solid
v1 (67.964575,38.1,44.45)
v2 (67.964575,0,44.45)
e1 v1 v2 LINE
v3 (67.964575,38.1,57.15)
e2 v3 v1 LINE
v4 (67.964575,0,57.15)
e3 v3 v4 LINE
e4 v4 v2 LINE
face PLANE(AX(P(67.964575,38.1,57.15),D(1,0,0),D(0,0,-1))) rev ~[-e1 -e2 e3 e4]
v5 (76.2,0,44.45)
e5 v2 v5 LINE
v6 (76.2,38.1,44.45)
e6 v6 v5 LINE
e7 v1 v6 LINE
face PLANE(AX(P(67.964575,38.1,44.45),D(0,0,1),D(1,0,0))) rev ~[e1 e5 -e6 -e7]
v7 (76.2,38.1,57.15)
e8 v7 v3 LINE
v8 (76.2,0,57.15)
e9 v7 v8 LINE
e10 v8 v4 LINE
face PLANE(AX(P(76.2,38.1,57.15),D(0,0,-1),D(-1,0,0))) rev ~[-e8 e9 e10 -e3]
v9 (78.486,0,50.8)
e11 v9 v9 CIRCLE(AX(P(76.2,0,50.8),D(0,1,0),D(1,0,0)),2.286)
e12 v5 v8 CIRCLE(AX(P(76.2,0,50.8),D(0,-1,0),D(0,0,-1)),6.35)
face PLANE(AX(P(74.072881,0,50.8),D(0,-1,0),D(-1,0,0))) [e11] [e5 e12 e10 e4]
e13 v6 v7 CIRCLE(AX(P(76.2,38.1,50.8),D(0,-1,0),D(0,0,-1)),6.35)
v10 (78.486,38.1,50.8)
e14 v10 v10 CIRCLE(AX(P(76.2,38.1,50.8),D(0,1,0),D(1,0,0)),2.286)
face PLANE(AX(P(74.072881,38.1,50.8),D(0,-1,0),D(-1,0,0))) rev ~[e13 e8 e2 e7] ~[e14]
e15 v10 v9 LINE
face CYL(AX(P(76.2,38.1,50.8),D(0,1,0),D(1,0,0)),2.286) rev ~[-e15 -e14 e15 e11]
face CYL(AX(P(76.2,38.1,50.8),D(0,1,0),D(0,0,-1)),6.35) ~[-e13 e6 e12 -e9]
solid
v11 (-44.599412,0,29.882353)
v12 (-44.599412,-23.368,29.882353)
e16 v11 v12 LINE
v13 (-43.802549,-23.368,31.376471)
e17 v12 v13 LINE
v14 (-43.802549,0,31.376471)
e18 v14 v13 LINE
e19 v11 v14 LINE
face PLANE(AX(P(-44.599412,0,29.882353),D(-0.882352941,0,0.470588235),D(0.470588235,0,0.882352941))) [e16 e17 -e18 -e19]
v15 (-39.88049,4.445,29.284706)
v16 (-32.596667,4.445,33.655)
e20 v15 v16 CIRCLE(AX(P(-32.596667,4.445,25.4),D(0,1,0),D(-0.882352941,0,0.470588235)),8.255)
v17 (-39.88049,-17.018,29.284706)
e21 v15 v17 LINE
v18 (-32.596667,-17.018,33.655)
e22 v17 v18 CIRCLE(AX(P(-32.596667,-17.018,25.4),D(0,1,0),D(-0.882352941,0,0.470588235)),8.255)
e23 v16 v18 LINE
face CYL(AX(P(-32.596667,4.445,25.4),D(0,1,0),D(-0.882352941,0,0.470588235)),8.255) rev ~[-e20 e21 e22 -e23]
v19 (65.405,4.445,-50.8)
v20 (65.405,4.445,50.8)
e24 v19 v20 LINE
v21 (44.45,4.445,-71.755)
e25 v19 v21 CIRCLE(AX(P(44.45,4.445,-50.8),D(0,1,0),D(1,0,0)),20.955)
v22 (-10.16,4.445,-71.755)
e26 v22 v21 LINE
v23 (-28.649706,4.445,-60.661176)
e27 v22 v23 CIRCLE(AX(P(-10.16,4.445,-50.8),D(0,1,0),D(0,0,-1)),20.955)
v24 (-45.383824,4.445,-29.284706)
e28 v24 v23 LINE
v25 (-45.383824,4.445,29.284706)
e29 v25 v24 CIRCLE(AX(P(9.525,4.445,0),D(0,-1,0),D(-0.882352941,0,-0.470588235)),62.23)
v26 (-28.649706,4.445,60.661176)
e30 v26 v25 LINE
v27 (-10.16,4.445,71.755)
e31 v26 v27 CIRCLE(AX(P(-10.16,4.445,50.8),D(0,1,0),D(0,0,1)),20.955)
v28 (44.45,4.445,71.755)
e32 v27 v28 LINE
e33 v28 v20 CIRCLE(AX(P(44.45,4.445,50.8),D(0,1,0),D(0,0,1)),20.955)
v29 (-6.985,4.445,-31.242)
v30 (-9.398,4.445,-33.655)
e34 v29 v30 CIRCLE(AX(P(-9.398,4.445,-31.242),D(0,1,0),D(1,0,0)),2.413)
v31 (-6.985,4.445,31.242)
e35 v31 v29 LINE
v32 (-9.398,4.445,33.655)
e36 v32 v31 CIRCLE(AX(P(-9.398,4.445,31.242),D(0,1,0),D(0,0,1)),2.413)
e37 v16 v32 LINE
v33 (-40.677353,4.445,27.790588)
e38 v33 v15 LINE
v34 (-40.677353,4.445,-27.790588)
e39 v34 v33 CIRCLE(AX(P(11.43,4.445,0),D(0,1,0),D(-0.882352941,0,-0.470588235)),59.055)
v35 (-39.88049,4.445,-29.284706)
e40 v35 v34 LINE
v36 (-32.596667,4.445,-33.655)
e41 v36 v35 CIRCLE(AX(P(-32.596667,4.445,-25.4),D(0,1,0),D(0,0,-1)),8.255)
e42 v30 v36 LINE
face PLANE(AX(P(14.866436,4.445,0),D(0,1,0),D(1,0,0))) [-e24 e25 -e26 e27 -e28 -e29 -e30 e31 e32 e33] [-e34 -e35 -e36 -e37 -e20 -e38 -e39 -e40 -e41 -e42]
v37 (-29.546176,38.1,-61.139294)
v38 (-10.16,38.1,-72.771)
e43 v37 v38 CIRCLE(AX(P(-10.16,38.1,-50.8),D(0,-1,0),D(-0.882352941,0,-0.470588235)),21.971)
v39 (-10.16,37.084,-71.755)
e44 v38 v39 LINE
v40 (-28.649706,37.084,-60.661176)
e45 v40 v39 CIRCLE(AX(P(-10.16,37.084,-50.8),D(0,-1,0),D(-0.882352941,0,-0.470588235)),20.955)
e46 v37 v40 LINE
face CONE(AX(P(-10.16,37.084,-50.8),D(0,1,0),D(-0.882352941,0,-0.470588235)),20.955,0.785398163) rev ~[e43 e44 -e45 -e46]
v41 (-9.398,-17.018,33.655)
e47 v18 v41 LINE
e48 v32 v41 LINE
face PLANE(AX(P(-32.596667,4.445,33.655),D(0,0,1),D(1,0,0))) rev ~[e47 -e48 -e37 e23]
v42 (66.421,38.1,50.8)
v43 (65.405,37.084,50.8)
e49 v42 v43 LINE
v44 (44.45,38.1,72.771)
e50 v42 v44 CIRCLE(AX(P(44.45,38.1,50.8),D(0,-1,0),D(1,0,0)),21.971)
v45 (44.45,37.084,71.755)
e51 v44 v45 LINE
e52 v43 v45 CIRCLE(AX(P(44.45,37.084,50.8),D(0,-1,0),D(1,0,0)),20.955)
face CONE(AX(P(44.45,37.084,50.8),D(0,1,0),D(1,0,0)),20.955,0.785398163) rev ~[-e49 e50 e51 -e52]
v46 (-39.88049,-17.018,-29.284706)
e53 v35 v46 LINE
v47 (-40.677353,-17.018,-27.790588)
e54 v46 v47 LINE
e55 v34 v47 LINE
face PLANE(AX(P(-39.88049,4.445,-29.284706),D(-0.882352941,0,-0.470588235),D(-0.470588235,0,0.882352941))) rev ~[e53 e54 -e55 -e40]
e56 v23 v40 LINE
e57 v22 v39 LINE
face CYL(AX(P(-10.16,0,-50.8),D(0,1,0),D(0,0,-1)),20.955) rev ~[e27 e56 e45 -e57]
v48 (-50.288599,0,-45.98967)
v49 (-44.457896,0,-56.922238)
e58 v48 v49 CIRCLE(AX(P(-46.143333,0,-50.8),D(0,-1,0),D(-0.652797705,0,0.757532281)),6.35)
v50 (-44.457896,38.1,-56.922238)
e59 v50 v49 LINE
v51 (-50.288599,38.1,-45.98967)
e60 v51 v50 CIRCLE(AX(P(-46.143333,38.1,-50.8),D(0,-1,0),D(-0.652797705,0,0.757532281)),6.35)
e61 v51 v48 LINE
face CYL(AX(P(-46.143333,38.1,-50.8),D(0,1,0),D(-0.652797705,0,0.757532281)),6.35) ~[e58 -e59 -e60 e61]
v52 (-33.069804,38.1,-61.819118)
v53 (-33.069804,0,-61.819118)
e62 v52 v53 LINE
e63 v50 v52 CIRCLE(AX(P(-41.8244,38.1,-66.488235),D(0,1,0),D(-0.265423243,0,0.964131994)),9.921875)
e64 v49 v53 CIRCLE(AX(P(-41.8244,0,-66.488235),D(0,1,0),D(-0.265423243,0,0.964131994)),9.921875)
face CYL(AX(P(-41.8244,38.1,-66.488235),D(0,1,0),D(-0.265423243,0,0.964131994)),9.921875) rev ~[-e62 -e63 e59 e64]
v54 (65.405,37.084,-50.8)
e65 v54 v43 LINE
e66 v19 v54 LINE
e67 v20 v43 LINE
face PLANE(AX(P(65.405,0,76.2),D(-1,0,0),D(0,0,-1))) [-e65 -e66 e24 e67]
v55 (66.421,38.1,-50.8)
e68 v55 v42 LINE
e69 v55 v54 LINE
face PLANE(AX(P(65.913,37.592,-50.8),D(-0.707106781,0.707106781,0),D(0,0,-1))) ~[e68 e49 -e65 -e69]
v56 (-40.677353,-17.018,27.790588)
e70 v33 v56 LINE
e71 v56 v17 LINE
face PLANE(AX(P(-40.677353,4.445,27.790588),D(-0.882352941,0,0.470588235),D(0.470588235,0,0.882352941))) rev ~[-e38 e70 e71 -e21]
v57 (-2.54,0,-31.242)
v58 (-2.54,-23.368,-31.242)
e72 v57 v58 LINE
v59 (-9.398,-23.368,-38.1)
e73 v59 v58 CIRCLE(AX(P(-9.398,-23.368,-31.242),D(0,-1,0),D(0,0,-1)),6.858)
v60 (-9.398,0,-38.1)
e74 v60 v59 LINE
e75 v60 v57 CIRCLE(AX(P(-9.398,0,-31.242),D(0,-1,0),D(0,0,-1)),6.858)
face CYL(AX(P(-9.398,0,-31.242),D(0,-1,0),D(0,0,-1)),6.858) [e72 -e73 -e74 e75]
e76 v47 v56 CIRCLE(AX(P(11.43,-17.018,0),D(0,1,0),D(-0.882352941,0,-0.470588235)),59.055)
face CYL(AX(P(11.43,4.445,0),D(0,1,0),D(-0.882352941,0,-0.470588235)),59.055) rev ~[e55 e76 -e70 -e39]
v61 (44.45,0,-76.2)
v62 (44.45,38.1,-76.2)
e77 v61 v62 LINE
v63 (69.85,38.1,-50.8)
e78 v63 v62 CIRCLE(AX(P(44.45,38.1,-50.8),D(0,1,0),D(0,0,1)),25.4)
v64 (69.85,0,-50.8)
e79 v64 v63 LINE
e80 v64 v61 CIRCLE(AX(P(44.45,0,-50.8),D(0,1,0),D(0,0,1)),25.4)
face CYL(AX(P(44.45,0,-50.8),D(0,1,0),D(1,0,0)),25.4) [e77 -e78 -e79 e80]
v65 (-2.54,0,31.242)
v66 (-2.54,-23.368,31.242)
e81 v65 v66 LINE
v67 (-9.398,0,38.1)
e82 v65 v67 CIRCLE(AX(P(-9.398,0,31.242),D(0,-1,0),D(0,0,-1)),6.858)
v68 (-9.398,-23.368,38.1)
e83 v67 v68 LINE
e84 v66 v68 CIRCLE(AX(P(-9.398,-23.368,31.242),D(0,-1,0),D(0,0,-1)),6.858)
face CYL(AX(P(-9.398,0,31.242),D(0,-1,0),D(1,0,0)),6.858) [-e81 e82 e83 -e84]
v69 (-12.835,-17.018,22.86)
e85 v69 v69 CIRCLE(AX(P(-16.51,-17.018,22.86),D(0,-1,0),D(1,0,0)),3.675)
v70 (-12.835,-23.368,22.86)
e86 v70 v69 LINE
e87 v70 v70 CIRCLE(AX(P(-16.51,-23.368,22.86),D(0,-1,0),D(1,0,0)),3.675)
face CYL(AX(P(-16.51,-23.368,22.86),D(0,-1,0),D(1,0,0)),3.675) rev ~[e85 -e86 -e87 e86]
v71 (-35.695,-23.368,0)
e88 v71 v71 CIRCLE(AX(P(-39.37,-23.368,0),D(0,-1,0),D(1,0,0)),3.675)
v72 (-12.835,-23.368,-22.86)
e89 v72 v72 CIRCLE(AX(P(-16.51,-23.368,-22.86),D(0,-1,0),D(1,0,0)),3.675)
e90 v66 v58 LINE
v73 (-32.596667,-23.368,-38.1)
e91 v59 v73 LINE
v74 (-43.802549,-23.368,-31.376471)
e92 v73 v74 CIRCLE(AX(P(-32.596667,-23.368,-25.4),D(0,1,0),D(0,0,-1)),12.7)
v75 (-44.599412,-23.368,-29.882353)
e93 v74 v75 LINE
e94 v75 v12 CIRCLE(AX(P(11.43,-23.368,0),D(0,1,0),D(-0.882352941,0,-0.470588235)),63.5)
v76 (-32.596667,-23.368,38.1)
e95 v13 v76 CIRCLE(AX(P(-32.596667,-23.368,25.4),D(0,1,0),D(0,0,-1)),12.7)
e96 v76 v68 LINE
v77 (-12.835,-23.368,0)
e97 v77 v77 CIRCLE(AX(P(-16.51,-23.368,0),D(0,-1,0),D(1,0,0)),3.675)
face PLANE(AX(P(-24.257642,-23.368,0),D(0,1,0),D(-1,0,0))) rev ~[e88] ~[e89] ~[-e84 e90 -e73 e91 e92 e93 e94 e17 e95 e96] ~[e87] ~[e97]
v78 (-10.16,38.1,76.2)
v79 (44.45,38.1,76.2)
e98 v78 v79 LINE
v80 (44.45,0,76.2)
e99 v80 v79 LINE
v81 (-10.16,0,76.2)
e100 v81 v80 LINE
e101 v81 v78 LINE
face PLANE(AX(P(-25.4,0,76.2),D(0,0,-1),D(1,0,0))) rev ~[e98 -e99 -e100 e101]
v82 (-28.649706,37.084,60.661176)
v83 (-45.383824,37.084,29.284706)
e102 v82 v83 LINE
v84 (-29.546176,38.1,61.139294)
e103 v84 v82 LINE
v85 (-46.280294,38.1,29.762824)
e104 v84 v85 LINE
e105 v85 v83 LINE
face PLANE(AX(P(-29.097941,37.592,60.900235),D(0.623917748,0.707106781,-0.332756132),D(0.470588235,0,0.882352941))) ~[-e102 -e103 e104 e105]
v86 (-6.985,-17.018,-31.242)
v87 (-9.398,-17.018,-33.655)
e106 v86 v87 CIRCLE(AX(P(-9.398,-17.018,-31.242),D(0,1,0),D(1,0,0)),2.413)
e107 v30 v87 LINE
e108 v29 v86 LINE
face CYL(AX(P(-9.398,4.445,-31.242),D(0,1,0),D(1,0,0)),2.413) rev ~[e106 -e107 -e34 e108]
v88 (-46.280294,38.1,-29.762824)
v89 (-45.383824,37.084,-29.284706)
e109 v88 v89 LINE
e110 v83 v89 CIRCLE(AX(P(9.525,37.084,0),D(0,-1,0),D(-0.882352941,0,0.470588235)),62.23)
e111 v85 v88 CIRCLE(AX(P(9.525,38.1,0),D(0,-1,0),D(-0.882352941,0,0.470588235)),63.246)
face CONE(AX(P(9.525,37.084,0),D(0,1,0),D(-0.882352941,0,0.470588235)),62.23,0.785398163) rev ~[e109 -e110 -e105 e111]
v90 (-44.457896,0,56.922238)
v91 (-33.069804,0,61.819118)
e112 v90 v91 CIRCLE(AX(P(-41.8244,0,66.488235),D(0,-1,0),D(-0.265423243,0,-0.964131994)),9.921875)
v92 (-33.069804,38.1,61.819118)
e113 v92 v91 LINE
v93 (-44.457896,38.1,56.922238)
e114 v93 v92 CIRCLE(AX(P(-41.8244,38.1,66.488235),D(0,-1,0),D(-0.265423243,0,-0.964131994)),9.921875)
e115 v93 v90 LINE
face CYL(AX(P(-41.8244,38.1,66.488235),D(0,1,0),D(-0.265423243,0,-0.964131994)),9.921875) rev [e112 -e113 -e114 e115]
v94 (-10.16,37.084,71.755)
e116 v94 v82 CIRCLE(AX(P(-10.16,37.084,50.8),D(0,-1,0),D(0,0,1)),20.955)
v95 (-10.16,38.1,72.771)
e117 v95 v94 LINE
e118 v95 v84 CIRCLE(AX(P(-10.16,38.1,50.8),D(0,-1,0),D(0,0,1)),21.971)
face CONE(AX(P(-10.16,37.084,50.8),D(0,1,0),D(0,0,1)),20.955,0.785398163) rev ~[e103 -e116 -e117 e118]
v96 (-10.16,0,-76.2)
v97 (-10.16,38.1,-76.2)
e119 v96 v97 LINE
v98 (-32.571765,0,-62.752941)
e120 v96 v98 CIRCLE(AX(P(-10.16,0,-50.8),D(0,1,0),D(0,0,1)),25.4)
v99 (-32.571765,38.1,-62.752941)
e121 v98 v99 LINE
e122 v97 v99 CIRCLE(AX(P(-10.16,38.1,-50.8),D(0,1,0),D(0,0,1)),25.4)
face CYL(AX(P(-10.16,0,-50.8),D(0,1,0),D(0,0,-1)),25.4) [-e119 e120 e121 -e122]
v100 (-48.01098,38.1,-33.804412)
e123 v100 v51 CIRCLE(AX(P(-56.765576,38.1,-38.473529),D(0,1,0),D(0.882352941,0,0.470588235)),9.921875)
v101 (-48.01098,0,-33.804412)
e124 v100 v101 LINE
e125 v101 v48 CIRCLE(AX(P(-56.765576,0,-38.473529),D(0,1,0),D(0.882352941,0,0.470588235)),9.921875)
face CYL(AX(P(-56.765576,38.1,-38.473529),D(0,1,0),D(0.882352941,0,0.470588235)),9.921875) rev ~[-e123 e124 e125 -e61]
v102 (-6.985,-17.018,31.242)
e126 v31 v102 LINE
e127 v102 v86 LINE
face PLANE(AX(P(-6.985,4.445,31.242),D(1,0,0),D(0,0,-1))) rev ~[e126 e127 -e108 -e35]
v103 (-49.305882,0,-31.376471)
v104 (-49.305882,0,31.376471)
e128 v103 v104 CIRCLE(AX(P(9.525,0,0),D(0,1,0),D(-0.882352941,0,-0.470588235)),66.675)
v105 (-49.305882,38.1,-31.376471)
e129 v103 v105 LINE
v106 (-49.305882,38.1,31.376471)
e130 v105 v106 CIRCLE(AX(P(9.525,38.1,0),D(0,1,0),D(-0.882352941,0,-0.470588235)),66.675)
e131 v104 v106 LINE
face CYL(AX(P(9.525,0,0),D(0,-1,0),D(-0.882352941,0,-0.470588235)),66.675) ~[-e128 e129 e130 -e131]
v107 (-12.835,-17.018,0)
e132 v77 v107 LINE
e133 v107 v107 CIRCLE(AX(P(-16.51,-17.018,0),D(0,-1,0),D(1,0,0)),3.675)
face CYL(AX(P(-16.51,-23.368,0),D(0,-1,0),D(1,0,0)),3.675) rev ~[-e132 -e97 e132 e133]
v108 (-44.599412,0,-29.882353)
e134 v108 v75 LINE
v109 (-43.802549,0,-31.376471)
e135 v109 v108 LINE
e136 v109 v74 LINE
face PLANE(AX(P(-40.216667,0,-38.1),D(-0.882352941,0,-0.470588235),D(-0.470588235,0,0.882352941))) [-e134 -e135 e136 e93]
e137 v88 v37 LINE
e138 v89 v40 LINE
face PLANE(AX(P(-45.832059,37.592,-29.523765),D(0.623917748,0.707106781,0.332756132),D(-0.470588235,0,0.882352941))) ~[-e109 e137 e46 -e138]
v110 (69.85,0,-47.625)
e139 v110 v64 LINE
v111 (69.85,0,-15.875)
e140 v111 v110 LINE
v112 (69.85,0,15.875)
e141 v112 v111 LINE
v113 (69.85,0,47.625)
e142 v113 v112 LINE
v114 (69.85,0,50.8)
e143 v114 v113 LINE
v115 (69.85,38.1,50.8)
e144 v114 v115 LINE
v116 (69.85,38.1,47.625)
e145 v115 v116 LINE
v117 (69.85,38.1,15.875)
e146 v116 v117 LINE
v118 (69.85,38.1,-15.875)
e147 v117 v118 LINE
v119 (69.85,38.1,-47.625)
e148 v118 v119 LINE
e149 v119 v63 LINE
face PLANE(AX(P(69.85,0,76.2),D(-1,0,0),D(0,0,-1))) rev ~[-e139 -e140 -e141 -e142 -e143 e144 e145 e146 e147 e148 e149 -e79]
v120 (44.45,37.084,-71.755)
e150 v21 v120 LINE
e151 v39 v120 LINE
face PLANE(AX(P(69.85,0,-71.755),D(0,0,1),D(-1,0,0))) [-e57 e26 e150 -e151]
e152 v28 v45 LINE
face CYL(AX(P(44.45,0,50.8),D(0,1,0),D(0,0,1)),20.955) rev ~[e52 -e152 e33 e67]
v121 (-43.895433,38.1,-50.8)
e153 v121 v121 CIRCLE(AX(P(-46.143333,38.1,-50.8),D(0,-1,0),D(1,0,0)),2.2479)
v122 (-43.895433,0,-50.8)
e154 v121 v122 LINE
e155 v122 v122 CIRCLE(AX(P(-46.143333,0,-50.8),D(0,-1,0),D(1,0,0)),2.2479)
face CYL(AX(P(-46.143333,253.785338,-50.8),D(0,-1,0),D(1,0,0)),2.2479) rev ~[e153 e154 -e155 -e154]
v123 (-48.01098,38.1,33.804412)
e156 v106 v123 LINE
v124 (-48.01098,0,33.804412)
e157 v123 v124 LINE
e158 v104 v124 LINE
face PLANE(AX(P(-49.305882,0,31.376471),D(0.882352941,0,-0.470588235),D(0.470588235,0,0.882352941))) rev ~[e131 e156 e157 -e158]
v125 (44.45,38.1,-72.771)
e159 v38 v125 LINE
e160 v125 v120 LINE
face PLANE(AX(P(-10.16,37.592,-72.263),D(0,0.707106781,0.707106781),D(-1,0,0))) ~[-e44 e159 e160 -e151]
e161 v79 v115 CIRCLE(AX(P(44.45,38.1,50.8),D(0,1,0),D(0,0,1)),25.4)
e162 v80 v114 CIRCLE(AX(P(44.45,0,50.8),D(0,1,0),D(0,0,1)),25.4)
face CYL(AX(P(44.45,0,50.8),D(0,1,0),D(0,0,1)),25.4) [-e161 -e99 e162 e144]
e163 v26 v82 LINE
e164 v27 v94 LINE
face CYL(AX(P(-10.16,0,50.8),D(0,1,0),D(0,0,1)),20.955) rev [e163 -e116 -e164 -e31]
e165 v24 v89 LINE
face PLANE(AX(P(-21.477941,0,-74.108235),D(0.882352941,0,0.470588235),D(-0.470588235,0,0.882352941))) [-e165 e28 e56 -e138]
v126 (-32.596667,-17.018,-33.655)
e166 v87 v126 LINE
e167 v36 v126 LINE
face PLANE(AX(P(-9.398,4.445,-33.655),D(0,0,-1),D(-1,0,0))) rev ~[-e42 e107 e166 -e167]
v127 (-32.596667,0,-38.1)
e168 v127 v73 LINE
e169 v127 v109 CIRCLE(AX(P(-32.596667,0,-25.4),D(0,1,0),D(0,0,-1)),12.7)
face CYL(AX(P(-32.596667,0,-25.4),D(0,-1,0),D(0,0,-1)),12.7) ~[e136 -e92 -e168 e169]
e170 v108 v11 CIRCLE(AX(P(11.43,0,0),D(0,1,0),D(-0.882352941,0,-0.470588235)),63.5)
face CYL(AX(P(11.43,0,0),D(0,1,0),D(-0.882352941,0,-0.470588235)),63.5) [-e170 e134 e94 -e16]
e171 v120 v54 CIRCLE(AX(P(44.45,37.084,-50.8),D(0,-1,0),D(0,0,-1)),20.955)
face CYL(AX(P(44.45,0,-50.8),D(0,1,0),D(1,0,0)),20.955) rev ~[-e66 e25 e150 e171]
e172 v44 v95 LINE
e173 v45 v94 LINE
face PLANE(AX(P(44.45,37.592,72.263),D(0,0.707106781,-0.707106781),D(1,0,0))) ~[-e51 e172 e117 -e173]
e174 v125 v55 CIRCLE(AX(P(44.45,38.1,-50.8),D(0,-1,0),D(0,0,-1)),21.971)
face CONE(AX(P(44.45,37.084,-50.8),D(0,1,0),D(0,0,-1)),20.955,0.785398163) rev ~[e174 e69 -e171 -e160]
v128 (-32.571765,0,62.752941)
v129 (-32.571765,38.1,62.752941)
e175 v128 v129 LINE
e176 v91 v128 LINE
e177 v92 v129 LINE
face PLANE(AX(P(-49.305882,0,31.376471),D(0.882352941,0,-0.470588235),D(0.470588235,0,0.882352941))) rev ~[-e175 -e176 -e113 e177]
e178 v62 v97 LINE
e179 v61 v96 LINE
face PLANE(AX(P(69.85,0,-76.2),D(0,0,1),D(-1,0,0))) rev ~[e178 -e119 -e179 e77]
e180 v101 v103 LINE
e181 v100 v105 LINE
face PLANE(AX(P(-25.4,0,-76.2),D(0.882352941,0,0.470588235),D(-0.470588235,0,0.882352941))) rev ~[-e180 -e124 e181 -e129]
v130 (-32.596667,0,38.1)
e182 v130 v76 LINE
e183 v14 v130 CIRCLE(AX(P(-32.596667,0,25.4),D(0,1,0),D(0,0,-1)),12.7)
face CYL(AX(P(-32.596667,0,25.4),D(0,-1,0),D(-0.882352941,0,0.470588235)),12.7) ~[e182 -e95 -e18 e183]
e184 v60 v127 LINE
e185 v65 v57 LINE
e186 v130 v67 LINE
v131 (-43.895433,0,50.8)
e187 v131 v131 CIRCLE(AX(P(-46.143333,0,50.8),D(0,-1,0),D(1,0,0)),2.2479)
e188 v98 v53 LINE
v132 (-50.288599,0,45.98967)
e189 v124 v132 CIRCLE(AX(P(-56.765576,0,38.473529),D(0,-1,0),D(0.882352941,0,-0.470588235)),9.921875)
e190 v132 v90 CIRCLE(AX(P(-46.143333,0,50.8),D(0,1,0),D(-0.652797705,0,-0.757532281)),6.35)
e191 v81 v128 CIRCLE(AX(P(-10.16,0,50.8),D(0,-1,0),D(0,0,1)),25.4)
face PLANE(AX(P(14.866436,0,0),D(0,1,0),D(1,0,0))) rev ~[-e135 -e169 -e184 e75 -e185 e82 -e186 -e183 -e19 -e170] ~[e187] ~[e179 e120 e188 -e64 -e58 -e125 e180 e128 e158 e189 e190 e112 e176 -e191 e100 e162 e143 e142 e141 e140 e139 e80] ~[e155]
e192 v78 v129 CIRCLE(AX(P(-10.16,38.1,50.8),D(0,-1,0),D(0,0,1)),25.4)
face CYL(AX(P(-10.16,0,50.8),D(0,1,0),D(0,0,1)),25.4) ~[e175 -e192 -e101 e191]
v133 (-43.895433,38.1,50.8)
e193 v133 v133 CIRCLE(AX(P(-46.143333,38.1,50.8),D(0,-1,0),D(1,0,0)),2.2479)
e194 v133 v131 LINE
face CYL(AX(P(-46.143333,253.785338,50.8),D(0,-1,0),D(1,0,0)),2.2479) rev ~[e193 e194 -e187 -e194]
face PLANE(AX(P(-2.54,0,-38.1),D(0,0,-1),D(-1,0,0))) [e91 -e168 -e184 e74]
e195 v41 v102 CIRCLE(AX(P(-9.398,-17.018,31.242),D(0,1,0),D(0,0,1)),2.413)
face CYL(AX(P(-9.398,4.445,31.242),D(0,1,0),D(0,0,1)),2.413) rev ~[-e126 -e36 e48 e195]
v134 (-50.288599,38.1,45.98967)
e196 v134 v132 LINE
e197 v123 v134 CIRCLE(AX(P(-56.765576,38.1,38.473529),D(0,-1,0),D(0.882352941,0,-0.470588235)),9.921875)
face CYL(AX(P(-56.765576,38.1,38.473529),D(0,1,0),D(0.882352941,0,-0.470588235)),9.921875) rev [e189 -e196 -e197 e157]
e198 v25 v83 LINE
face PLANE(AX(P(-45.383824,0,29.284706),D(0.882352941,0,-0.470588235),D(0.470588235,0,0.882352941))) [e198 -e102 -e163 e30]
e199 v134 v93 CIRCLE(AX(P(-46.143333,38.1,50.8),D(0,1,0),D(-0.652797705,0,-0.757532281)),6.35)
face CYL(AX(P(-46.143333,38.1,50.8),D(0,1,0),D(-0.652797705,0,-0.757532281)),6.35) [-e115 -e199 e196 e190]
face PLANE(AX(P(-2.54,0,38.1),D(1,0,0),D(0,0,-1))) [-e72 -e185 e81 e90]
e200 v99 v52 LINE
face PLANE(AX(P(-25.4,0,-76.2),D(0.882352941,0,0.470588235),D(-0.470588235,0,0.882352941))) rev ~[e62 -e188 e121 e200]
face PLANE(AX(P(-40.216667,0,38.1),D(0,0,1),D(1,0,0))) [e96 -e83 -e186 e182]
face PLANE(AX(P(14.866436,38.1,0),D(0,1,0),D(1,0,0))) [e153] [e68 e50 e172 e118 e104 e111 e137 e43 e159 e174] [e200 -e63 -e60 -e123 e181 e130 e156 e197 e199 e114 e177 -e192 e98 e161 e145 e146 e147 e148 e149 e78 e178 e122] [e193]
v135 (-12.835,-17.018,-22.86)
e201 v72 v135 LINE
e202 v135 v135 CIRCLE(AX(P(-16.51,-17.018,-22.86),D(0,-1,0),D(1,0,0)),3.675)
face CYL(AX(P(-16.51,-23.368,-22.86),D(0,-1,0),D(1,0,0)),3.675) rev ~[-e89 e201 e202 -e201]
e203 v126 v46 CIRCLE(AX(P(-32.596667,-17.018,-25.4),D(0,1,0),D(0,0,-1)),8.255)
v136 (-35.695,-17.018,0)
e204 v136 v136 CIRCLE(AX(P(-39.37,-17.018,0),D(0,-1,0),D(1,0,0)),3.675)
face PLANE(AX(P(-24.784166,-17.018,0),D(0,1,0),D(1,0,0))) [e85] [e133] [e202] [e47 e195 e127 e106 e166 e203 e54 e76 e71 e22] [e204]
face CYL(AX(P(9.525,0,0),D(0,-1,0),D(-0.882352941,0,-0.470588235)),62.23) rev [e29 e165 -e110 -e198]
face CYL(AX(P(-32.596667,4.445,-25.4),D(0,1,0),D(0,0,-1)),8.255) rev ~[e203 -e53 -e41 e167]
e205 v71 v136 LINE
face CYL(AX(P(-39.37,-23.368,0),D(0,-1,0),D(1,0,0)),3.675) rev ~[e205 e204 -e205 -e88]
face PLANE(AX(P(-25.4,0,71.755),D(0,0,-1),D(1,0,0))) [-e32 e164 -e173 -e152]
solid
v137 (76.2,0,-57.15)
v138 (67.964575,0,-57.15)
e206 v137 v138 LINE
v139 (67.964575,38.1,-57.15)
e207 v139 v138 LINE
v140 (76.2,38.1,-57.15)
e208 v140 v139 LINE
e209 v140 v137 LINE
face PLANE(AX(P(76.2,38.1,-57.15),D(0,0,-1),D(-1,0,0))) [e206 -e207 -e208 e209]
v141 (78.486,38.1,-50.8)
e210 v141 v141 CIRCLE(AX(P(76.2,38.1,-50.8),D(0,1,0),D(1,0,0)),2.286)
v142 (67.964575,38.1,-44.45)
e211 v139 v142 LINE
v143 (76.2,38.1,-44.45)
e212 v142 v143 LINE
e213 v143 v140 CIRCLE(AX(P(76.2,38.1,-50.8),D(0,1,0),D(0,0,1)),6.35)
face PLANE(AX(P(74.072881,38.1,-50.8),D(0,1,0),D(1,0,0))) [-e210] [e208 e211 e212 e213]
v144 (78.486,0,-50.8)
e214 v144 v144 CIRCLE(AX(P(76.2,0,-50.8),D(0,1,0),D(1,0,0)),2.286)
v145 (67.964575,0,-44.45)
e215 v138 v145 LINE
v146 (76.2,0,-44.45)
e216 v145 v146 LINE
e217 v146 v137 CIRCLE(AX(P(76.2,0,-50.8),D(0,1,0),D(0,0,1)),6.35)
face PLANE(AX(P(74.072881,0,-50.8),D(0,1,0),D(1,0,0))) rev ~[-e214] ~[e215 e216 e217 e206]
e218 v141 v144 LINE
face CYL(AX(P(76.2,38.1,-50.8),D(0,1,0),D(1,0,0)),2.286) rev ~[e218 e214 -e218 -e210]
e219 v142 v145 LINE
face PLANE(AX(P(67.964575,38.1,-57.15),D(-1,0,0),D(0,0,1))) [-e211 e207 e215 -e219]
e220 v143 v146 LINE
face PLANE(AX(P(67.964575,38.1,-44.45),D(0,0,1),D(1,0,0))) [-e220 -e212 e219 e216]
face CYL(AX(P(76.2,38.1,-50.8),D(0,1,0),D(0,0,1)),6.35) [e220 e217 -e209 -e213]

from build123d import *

# Parameters (mm, degrees)
BOSS_EXTRUDE1_DEPTH   = 38.1
FILLET1_R             = 25.4
SHELL1_T              = -4.445
NUB_DEPTH             = 23.368
FILLET2_R             = 12.7
FILLET3_R             = 6.858
CUT_EXTRUDE1_DEPTH    = 21.463
CHAMFER1_SIZE         = 1.016
BOSS_EXTRUDE2_DEPTH   = 38.1
F_8_CLEARANCE_HOLE1_D = 4.4958
SKETCH14_R            = 3.675
CUT_EXTRUDE2_DEPTH    = 62.468
SKETCH18_W            = 17.900644311
SKETCH18_H            = 98.827895465
CUT_EXTRUDE5_DEPTH    = 62.468
SKETCH19_R            = 2.286
BOSS_EXTRUDE4_DEPTH   = 38.1
BOSS_EXTRUDE4_2_DEPTH = 38.1


with BuildPart() as part:
    # Sketch1 → Boss-Extrude1 (new body)
    with BuildSketch(Plane(origin=(0, 0, 0), x_dir=(1, 0, 0), z_dir=(0, 1, 0))):
        with BuildLine():
            Line((-25.4, -76.2), (69.85, -76.2))
            Line((69.85, -76.2), (69.85, 76.2))
            Line((69.85, 76.2), (-25.4, 76.2))
            Line((-25.4, 76.2), (-49.305882353, 31.376470588))
            ThreePointArc((-49.305882353, 31.376470588), (-57.15, 0), (-49.305882353, -31.376470588))
            Line((-49.305882353, -31.376470588), (-25.4, -76.2))
        make_face()
    extrude(amount=BOSS_EXTRUDE1_DEPTH)

    # Fillet1
    fillet1_edges = [part.edges().sort_by_distance(p)[0] for p in [
        (69.85, 19.05, 76.2),
        (-25.4, 19.05, 76.2),
        (-25.4, 19.05, -76.2),
        (69.85, 19.05, -76.2),
    ]]
    fillet(fillet1_edges, radius=FILLET1_R)

    # Shell1
    shell1_openings = [part.faces().sort_by_distance(p)[0] for p in [
        (4.347699305, 38.1, 0),
    ]]
    offset(amount=SHELL1_T, openings=shell1_openings, kind=Kind.INTERSECTION)

    # Sketch13 → nub (add)
    with BuildSketch(Plane.XZ):
        with BuildLine():
            Line((-2.54, 38.1), (-2.54, -38.1))
            Line((-2.54, -38.1), (-40.216666667, -38.1))
            Line((-40.216666667, -38.1), (-44.599411765, -29.882352941))
            ThreePointArc((-44.599411765, -29.882352941), (-52.07, 0), (-44.599411765, 29.882352941))
            Line((-44.599411765, 29.882352941), (-40.216666667, 38.1))
            Line((-40.216666667, 38.1), (-2.54, 38.1))
        make_face()
    extrude(amount=NUB_DEPTH)

    # Fillet2
    fillet2_edges = [part.edges().sort_by_distance(p)[0] for p in [
        (-40.216666667, -11.684, 38.1),
        (-40.216666667, -11.684, -38.1),
    ]]
    fillet(fillet2_edges, radius=FILLET2_R)

    # Fillet3
    fillet3_edges = [part.edges().sort_by_distance(p)[0] for p in [
        (-2.54, -11.684, 38.1),
        (-2.54, -11.684, -38.1),
    ]]
    fillet(fillet3_edges, radius=FILLET3_R)

    # Sketch8 → Cut-Extrude1 (cut)
    with BuildSketch(Plane(origin=(0, 4.445, 0), x_dir=(1, 0, 0), z_dir=(0, 1, 0))):
        with BuildLine():
            Line((-32.596666667, -33.655), (-9.398, -33.655))
            ThreePointArc((-9.398, -33.655), (-7.691751337, -32.948248663), (-6.985, -31.242))
            Line((-6.985, -31.242), (-6.985, 31.242))
            ThreePointArc((-6.985, 31.242), (-7.691751337, 32.948248663), (-9.398, 33.655))
            Line((-9.398, 33.655), (-32.596666667, 33.655))
            ThreePointArc((-32.596666667, 33.655), (-36.843829128, 32.478604102), (-39.880490196, 29.284705882))
            Line((-39.880490196, 29.284705882), (-40.677352941, 27.790588235))
            ThreePointArc((-40.677352941, 27.790588235), (-47.625, 0), (-40.677352941, -27.790588235))
            Line((-40.677352941, -27.790588235), (-39.880490196, -29.284705882))
            ThreePointArc((-39.880490196, -29.284705882), (-36.843829128, -32.478604102), (-32.596666667, -33.655))
        make_face()
    extrude(amount=-CUT_EXTRUDE1_DEPTH, mode=Mode.SUBTRACT)

    # Chamfer1
    chamfer1_edges = [part.edges().sort_by_distance(p)[0] for p in [
        (-37.016764706, 38.1, 44.972941176),
        (-20.941258555, 38.1, 68.768764258),
        (17.145, 38.1, 71.755),
        (59.2674226, 38.1, 65.6174226),
        (65.405, 38.1, 0),
        (59.2674226, 38.1, -65.6174226),
        (17.145, 38.1, -71.755),
        (-20.941258555, 38.1, -68.768764258),
        (-37.016764706, 38.1, -44.972941176),
        (-52.705, 38.1, 0),
    ]]
    chamfer(chamfer1_edges, length=CHAMFER1_SIZE)

    # Sketch10 → Boss-Extrude2 (add)
    with BuildSketch(Plane(origin=(0, 38.1, 0), x_dir=(1, 0, 0), z_dir=(0, 1, 0))):
        with BuildLine():
            Line((69.85, 47.625), (69.85, 15.875))
            ThreePointArc((69.85, 15.875), (72.024192281, 22.073146175), (77.593902439, 25.554878049))
            ThreePointArc((77.593902439, 25.554878049), (82.55, 31.75), (77.593902439, 37.945121951))
            ThreePointArc((77.593902439, 37.945121951), (72.024192281, 41.426853825), (69.85, 47.625))
        make_face()
        with BuildLine():
            Line((69.85, -47.625), (69.85, -15.875))
            ThreePointArc((69.85, -15.875), (72.024192281, -22.073146175), (77.593902439, -25.554878049))
            ThreePointArc((77.593902439, -25.554878049), (82.55, -31.75), (77.593902439, -37.945121951))
            ThreePointArc((77.593902439, -37.945121951), (72.024192281, -41.426853825), (69.85, -47.625))
        make_face()
        with BuildLine():
            Line((-33.069803922, 61.819117647), (-48.010980392, 33.804411765))
            ThreePointArc((-48.010980392, 33.804411765), (-47.012610676, 40.296513581), (-50.288598757, 45.989670014))
            ThreePointArc((-50.288598757, 45.989670014), (-51.74627451, 53.788235294), (-44.457895744, 56.922238164))
            ThreePointArc((-44.457895744, 56.922238164), (-37.904983546, 57.373314449), (-33.069803922, 61.819117647))
        make_face()
        with BuildLine():
            Line((-33.069803922, -61.819117647), (-48.010980392, -33.804411765))
            ThreePointArc((-48.010980392, -33.804411765), (-47.012610676, -40.296513581), (-50.288598757, -45.989670014))
            ThreePointArc((-50.288598757, -45.989670014), (-51.74627451, -53.788235294), (-44.457895744, -56.922238164))
            ThreePointArc((-44.457895744, -56.922238164), (-37.904983546, -57.373314449), (-33.069803922, -61.819117647))
        make_face()
    extrude(amount=-BOSS_EXTRUDE2_DEPTH)

    # #8 Clearance Hole1 (through all)
    with Locations(Plane(origin=(0, 38.1, 0), x_dir=(-1, 0, 0), z_dir=(0, 1, 0))):
        with Locations((46.143333333, -50.8), (46.143333333, 50.8), (-76.2, 31.75), (-76.2, -31.75)):
            Hole(F_8_CLEARANCE_HOLE1_D / 2)

    # Sketch14 → Cut-Extrude2 (cut, through all)
    with BuildSketch(Plane.XZ.offset(23.368)):
        with Locations((-16.51, 22.86)):
            Circle(SKETCH14_R)
        with Locations((-16.51, 0)):
            Circle(SKETCH14_R)
        with Locations((-16.51, -22.86)):
            Circle(SKETCH14_R)
        with Locations((-39.37, 0)):
            Circle(SKETCH14_R)
    extrude(amount=-CUT_EXTRUDE2_DEPTH, mode=Mode.SUBTRACT)

    # Sketch18 → Cut-Extrude5 (cut, through all)
    with BuildSketch(Plane(origin=(0, 38.1, 0), x_dir=(1, 0, 0), z_dir=(0, 1, 0))):
        with Locations((78.800322155, -1.788947733)):
            Rectangle(SKETCH18_W, SKETCH18_H)
    extrude(amount=-CUT_EXTRUDE5_DEPTH, mode=Mode.SUBTRACT)


with BuildPart() as body_2:
    # Sketch19 → Boss-Extrude4 (new body)
    with BuildSketch(Plane(origin=(0, 38.1, 0), x_dir=(1, 0, 0), z_dir=(0, 1, 0))):
        with BuildLine():
            Line((76.2, 57.15), (67.964574811, 57.15))
            Line((67.964574811, 57.15), (67.964574811, 44.45))
            Line((67.964574811, 44.45), (76.2, 44.45))
            ThreePointArc((76.2, 44.45), (82.55, 50.8), (76.2, 57.15))
        make_face()
        with Locations((76.2, 50.8)):
            Circle(SKETCH19_R, mode=Mode.SUBTRACT)
    extrude(amount=-BOSS_EXTRUDE4_DEPTH)


with BuildPart() as body_3:
    # Sketch19 → Boss-Extrude4 2 (new body)
    with BuildSketch(Plane(origin=(0, 38.1, 0), x_dir=(1, 0, 0), z_dir=(0, 1, 0))):
        with BuildLine():
            Line((67.964574811, -44.45), (76.2, -44.45))
            ThreePointArc((76.2, -44.45), (82.55, -50.8), (76.2, -57.15))
            Line((76.2, -57.15), (67.964574811, -57.15))
            Line((67.964574811, -57.15), (67.964574811, -44.45))
        make_face()
        with Locations((76.2, -50.8)):
            Circle(SKETCH19_R, mode=Mode.SUBTRACT)
    extrude(amount=-BOSS_EXTRUDE4_2_DEPTH)


solid = Compound([part.part, body_2.part, body_3.part])
